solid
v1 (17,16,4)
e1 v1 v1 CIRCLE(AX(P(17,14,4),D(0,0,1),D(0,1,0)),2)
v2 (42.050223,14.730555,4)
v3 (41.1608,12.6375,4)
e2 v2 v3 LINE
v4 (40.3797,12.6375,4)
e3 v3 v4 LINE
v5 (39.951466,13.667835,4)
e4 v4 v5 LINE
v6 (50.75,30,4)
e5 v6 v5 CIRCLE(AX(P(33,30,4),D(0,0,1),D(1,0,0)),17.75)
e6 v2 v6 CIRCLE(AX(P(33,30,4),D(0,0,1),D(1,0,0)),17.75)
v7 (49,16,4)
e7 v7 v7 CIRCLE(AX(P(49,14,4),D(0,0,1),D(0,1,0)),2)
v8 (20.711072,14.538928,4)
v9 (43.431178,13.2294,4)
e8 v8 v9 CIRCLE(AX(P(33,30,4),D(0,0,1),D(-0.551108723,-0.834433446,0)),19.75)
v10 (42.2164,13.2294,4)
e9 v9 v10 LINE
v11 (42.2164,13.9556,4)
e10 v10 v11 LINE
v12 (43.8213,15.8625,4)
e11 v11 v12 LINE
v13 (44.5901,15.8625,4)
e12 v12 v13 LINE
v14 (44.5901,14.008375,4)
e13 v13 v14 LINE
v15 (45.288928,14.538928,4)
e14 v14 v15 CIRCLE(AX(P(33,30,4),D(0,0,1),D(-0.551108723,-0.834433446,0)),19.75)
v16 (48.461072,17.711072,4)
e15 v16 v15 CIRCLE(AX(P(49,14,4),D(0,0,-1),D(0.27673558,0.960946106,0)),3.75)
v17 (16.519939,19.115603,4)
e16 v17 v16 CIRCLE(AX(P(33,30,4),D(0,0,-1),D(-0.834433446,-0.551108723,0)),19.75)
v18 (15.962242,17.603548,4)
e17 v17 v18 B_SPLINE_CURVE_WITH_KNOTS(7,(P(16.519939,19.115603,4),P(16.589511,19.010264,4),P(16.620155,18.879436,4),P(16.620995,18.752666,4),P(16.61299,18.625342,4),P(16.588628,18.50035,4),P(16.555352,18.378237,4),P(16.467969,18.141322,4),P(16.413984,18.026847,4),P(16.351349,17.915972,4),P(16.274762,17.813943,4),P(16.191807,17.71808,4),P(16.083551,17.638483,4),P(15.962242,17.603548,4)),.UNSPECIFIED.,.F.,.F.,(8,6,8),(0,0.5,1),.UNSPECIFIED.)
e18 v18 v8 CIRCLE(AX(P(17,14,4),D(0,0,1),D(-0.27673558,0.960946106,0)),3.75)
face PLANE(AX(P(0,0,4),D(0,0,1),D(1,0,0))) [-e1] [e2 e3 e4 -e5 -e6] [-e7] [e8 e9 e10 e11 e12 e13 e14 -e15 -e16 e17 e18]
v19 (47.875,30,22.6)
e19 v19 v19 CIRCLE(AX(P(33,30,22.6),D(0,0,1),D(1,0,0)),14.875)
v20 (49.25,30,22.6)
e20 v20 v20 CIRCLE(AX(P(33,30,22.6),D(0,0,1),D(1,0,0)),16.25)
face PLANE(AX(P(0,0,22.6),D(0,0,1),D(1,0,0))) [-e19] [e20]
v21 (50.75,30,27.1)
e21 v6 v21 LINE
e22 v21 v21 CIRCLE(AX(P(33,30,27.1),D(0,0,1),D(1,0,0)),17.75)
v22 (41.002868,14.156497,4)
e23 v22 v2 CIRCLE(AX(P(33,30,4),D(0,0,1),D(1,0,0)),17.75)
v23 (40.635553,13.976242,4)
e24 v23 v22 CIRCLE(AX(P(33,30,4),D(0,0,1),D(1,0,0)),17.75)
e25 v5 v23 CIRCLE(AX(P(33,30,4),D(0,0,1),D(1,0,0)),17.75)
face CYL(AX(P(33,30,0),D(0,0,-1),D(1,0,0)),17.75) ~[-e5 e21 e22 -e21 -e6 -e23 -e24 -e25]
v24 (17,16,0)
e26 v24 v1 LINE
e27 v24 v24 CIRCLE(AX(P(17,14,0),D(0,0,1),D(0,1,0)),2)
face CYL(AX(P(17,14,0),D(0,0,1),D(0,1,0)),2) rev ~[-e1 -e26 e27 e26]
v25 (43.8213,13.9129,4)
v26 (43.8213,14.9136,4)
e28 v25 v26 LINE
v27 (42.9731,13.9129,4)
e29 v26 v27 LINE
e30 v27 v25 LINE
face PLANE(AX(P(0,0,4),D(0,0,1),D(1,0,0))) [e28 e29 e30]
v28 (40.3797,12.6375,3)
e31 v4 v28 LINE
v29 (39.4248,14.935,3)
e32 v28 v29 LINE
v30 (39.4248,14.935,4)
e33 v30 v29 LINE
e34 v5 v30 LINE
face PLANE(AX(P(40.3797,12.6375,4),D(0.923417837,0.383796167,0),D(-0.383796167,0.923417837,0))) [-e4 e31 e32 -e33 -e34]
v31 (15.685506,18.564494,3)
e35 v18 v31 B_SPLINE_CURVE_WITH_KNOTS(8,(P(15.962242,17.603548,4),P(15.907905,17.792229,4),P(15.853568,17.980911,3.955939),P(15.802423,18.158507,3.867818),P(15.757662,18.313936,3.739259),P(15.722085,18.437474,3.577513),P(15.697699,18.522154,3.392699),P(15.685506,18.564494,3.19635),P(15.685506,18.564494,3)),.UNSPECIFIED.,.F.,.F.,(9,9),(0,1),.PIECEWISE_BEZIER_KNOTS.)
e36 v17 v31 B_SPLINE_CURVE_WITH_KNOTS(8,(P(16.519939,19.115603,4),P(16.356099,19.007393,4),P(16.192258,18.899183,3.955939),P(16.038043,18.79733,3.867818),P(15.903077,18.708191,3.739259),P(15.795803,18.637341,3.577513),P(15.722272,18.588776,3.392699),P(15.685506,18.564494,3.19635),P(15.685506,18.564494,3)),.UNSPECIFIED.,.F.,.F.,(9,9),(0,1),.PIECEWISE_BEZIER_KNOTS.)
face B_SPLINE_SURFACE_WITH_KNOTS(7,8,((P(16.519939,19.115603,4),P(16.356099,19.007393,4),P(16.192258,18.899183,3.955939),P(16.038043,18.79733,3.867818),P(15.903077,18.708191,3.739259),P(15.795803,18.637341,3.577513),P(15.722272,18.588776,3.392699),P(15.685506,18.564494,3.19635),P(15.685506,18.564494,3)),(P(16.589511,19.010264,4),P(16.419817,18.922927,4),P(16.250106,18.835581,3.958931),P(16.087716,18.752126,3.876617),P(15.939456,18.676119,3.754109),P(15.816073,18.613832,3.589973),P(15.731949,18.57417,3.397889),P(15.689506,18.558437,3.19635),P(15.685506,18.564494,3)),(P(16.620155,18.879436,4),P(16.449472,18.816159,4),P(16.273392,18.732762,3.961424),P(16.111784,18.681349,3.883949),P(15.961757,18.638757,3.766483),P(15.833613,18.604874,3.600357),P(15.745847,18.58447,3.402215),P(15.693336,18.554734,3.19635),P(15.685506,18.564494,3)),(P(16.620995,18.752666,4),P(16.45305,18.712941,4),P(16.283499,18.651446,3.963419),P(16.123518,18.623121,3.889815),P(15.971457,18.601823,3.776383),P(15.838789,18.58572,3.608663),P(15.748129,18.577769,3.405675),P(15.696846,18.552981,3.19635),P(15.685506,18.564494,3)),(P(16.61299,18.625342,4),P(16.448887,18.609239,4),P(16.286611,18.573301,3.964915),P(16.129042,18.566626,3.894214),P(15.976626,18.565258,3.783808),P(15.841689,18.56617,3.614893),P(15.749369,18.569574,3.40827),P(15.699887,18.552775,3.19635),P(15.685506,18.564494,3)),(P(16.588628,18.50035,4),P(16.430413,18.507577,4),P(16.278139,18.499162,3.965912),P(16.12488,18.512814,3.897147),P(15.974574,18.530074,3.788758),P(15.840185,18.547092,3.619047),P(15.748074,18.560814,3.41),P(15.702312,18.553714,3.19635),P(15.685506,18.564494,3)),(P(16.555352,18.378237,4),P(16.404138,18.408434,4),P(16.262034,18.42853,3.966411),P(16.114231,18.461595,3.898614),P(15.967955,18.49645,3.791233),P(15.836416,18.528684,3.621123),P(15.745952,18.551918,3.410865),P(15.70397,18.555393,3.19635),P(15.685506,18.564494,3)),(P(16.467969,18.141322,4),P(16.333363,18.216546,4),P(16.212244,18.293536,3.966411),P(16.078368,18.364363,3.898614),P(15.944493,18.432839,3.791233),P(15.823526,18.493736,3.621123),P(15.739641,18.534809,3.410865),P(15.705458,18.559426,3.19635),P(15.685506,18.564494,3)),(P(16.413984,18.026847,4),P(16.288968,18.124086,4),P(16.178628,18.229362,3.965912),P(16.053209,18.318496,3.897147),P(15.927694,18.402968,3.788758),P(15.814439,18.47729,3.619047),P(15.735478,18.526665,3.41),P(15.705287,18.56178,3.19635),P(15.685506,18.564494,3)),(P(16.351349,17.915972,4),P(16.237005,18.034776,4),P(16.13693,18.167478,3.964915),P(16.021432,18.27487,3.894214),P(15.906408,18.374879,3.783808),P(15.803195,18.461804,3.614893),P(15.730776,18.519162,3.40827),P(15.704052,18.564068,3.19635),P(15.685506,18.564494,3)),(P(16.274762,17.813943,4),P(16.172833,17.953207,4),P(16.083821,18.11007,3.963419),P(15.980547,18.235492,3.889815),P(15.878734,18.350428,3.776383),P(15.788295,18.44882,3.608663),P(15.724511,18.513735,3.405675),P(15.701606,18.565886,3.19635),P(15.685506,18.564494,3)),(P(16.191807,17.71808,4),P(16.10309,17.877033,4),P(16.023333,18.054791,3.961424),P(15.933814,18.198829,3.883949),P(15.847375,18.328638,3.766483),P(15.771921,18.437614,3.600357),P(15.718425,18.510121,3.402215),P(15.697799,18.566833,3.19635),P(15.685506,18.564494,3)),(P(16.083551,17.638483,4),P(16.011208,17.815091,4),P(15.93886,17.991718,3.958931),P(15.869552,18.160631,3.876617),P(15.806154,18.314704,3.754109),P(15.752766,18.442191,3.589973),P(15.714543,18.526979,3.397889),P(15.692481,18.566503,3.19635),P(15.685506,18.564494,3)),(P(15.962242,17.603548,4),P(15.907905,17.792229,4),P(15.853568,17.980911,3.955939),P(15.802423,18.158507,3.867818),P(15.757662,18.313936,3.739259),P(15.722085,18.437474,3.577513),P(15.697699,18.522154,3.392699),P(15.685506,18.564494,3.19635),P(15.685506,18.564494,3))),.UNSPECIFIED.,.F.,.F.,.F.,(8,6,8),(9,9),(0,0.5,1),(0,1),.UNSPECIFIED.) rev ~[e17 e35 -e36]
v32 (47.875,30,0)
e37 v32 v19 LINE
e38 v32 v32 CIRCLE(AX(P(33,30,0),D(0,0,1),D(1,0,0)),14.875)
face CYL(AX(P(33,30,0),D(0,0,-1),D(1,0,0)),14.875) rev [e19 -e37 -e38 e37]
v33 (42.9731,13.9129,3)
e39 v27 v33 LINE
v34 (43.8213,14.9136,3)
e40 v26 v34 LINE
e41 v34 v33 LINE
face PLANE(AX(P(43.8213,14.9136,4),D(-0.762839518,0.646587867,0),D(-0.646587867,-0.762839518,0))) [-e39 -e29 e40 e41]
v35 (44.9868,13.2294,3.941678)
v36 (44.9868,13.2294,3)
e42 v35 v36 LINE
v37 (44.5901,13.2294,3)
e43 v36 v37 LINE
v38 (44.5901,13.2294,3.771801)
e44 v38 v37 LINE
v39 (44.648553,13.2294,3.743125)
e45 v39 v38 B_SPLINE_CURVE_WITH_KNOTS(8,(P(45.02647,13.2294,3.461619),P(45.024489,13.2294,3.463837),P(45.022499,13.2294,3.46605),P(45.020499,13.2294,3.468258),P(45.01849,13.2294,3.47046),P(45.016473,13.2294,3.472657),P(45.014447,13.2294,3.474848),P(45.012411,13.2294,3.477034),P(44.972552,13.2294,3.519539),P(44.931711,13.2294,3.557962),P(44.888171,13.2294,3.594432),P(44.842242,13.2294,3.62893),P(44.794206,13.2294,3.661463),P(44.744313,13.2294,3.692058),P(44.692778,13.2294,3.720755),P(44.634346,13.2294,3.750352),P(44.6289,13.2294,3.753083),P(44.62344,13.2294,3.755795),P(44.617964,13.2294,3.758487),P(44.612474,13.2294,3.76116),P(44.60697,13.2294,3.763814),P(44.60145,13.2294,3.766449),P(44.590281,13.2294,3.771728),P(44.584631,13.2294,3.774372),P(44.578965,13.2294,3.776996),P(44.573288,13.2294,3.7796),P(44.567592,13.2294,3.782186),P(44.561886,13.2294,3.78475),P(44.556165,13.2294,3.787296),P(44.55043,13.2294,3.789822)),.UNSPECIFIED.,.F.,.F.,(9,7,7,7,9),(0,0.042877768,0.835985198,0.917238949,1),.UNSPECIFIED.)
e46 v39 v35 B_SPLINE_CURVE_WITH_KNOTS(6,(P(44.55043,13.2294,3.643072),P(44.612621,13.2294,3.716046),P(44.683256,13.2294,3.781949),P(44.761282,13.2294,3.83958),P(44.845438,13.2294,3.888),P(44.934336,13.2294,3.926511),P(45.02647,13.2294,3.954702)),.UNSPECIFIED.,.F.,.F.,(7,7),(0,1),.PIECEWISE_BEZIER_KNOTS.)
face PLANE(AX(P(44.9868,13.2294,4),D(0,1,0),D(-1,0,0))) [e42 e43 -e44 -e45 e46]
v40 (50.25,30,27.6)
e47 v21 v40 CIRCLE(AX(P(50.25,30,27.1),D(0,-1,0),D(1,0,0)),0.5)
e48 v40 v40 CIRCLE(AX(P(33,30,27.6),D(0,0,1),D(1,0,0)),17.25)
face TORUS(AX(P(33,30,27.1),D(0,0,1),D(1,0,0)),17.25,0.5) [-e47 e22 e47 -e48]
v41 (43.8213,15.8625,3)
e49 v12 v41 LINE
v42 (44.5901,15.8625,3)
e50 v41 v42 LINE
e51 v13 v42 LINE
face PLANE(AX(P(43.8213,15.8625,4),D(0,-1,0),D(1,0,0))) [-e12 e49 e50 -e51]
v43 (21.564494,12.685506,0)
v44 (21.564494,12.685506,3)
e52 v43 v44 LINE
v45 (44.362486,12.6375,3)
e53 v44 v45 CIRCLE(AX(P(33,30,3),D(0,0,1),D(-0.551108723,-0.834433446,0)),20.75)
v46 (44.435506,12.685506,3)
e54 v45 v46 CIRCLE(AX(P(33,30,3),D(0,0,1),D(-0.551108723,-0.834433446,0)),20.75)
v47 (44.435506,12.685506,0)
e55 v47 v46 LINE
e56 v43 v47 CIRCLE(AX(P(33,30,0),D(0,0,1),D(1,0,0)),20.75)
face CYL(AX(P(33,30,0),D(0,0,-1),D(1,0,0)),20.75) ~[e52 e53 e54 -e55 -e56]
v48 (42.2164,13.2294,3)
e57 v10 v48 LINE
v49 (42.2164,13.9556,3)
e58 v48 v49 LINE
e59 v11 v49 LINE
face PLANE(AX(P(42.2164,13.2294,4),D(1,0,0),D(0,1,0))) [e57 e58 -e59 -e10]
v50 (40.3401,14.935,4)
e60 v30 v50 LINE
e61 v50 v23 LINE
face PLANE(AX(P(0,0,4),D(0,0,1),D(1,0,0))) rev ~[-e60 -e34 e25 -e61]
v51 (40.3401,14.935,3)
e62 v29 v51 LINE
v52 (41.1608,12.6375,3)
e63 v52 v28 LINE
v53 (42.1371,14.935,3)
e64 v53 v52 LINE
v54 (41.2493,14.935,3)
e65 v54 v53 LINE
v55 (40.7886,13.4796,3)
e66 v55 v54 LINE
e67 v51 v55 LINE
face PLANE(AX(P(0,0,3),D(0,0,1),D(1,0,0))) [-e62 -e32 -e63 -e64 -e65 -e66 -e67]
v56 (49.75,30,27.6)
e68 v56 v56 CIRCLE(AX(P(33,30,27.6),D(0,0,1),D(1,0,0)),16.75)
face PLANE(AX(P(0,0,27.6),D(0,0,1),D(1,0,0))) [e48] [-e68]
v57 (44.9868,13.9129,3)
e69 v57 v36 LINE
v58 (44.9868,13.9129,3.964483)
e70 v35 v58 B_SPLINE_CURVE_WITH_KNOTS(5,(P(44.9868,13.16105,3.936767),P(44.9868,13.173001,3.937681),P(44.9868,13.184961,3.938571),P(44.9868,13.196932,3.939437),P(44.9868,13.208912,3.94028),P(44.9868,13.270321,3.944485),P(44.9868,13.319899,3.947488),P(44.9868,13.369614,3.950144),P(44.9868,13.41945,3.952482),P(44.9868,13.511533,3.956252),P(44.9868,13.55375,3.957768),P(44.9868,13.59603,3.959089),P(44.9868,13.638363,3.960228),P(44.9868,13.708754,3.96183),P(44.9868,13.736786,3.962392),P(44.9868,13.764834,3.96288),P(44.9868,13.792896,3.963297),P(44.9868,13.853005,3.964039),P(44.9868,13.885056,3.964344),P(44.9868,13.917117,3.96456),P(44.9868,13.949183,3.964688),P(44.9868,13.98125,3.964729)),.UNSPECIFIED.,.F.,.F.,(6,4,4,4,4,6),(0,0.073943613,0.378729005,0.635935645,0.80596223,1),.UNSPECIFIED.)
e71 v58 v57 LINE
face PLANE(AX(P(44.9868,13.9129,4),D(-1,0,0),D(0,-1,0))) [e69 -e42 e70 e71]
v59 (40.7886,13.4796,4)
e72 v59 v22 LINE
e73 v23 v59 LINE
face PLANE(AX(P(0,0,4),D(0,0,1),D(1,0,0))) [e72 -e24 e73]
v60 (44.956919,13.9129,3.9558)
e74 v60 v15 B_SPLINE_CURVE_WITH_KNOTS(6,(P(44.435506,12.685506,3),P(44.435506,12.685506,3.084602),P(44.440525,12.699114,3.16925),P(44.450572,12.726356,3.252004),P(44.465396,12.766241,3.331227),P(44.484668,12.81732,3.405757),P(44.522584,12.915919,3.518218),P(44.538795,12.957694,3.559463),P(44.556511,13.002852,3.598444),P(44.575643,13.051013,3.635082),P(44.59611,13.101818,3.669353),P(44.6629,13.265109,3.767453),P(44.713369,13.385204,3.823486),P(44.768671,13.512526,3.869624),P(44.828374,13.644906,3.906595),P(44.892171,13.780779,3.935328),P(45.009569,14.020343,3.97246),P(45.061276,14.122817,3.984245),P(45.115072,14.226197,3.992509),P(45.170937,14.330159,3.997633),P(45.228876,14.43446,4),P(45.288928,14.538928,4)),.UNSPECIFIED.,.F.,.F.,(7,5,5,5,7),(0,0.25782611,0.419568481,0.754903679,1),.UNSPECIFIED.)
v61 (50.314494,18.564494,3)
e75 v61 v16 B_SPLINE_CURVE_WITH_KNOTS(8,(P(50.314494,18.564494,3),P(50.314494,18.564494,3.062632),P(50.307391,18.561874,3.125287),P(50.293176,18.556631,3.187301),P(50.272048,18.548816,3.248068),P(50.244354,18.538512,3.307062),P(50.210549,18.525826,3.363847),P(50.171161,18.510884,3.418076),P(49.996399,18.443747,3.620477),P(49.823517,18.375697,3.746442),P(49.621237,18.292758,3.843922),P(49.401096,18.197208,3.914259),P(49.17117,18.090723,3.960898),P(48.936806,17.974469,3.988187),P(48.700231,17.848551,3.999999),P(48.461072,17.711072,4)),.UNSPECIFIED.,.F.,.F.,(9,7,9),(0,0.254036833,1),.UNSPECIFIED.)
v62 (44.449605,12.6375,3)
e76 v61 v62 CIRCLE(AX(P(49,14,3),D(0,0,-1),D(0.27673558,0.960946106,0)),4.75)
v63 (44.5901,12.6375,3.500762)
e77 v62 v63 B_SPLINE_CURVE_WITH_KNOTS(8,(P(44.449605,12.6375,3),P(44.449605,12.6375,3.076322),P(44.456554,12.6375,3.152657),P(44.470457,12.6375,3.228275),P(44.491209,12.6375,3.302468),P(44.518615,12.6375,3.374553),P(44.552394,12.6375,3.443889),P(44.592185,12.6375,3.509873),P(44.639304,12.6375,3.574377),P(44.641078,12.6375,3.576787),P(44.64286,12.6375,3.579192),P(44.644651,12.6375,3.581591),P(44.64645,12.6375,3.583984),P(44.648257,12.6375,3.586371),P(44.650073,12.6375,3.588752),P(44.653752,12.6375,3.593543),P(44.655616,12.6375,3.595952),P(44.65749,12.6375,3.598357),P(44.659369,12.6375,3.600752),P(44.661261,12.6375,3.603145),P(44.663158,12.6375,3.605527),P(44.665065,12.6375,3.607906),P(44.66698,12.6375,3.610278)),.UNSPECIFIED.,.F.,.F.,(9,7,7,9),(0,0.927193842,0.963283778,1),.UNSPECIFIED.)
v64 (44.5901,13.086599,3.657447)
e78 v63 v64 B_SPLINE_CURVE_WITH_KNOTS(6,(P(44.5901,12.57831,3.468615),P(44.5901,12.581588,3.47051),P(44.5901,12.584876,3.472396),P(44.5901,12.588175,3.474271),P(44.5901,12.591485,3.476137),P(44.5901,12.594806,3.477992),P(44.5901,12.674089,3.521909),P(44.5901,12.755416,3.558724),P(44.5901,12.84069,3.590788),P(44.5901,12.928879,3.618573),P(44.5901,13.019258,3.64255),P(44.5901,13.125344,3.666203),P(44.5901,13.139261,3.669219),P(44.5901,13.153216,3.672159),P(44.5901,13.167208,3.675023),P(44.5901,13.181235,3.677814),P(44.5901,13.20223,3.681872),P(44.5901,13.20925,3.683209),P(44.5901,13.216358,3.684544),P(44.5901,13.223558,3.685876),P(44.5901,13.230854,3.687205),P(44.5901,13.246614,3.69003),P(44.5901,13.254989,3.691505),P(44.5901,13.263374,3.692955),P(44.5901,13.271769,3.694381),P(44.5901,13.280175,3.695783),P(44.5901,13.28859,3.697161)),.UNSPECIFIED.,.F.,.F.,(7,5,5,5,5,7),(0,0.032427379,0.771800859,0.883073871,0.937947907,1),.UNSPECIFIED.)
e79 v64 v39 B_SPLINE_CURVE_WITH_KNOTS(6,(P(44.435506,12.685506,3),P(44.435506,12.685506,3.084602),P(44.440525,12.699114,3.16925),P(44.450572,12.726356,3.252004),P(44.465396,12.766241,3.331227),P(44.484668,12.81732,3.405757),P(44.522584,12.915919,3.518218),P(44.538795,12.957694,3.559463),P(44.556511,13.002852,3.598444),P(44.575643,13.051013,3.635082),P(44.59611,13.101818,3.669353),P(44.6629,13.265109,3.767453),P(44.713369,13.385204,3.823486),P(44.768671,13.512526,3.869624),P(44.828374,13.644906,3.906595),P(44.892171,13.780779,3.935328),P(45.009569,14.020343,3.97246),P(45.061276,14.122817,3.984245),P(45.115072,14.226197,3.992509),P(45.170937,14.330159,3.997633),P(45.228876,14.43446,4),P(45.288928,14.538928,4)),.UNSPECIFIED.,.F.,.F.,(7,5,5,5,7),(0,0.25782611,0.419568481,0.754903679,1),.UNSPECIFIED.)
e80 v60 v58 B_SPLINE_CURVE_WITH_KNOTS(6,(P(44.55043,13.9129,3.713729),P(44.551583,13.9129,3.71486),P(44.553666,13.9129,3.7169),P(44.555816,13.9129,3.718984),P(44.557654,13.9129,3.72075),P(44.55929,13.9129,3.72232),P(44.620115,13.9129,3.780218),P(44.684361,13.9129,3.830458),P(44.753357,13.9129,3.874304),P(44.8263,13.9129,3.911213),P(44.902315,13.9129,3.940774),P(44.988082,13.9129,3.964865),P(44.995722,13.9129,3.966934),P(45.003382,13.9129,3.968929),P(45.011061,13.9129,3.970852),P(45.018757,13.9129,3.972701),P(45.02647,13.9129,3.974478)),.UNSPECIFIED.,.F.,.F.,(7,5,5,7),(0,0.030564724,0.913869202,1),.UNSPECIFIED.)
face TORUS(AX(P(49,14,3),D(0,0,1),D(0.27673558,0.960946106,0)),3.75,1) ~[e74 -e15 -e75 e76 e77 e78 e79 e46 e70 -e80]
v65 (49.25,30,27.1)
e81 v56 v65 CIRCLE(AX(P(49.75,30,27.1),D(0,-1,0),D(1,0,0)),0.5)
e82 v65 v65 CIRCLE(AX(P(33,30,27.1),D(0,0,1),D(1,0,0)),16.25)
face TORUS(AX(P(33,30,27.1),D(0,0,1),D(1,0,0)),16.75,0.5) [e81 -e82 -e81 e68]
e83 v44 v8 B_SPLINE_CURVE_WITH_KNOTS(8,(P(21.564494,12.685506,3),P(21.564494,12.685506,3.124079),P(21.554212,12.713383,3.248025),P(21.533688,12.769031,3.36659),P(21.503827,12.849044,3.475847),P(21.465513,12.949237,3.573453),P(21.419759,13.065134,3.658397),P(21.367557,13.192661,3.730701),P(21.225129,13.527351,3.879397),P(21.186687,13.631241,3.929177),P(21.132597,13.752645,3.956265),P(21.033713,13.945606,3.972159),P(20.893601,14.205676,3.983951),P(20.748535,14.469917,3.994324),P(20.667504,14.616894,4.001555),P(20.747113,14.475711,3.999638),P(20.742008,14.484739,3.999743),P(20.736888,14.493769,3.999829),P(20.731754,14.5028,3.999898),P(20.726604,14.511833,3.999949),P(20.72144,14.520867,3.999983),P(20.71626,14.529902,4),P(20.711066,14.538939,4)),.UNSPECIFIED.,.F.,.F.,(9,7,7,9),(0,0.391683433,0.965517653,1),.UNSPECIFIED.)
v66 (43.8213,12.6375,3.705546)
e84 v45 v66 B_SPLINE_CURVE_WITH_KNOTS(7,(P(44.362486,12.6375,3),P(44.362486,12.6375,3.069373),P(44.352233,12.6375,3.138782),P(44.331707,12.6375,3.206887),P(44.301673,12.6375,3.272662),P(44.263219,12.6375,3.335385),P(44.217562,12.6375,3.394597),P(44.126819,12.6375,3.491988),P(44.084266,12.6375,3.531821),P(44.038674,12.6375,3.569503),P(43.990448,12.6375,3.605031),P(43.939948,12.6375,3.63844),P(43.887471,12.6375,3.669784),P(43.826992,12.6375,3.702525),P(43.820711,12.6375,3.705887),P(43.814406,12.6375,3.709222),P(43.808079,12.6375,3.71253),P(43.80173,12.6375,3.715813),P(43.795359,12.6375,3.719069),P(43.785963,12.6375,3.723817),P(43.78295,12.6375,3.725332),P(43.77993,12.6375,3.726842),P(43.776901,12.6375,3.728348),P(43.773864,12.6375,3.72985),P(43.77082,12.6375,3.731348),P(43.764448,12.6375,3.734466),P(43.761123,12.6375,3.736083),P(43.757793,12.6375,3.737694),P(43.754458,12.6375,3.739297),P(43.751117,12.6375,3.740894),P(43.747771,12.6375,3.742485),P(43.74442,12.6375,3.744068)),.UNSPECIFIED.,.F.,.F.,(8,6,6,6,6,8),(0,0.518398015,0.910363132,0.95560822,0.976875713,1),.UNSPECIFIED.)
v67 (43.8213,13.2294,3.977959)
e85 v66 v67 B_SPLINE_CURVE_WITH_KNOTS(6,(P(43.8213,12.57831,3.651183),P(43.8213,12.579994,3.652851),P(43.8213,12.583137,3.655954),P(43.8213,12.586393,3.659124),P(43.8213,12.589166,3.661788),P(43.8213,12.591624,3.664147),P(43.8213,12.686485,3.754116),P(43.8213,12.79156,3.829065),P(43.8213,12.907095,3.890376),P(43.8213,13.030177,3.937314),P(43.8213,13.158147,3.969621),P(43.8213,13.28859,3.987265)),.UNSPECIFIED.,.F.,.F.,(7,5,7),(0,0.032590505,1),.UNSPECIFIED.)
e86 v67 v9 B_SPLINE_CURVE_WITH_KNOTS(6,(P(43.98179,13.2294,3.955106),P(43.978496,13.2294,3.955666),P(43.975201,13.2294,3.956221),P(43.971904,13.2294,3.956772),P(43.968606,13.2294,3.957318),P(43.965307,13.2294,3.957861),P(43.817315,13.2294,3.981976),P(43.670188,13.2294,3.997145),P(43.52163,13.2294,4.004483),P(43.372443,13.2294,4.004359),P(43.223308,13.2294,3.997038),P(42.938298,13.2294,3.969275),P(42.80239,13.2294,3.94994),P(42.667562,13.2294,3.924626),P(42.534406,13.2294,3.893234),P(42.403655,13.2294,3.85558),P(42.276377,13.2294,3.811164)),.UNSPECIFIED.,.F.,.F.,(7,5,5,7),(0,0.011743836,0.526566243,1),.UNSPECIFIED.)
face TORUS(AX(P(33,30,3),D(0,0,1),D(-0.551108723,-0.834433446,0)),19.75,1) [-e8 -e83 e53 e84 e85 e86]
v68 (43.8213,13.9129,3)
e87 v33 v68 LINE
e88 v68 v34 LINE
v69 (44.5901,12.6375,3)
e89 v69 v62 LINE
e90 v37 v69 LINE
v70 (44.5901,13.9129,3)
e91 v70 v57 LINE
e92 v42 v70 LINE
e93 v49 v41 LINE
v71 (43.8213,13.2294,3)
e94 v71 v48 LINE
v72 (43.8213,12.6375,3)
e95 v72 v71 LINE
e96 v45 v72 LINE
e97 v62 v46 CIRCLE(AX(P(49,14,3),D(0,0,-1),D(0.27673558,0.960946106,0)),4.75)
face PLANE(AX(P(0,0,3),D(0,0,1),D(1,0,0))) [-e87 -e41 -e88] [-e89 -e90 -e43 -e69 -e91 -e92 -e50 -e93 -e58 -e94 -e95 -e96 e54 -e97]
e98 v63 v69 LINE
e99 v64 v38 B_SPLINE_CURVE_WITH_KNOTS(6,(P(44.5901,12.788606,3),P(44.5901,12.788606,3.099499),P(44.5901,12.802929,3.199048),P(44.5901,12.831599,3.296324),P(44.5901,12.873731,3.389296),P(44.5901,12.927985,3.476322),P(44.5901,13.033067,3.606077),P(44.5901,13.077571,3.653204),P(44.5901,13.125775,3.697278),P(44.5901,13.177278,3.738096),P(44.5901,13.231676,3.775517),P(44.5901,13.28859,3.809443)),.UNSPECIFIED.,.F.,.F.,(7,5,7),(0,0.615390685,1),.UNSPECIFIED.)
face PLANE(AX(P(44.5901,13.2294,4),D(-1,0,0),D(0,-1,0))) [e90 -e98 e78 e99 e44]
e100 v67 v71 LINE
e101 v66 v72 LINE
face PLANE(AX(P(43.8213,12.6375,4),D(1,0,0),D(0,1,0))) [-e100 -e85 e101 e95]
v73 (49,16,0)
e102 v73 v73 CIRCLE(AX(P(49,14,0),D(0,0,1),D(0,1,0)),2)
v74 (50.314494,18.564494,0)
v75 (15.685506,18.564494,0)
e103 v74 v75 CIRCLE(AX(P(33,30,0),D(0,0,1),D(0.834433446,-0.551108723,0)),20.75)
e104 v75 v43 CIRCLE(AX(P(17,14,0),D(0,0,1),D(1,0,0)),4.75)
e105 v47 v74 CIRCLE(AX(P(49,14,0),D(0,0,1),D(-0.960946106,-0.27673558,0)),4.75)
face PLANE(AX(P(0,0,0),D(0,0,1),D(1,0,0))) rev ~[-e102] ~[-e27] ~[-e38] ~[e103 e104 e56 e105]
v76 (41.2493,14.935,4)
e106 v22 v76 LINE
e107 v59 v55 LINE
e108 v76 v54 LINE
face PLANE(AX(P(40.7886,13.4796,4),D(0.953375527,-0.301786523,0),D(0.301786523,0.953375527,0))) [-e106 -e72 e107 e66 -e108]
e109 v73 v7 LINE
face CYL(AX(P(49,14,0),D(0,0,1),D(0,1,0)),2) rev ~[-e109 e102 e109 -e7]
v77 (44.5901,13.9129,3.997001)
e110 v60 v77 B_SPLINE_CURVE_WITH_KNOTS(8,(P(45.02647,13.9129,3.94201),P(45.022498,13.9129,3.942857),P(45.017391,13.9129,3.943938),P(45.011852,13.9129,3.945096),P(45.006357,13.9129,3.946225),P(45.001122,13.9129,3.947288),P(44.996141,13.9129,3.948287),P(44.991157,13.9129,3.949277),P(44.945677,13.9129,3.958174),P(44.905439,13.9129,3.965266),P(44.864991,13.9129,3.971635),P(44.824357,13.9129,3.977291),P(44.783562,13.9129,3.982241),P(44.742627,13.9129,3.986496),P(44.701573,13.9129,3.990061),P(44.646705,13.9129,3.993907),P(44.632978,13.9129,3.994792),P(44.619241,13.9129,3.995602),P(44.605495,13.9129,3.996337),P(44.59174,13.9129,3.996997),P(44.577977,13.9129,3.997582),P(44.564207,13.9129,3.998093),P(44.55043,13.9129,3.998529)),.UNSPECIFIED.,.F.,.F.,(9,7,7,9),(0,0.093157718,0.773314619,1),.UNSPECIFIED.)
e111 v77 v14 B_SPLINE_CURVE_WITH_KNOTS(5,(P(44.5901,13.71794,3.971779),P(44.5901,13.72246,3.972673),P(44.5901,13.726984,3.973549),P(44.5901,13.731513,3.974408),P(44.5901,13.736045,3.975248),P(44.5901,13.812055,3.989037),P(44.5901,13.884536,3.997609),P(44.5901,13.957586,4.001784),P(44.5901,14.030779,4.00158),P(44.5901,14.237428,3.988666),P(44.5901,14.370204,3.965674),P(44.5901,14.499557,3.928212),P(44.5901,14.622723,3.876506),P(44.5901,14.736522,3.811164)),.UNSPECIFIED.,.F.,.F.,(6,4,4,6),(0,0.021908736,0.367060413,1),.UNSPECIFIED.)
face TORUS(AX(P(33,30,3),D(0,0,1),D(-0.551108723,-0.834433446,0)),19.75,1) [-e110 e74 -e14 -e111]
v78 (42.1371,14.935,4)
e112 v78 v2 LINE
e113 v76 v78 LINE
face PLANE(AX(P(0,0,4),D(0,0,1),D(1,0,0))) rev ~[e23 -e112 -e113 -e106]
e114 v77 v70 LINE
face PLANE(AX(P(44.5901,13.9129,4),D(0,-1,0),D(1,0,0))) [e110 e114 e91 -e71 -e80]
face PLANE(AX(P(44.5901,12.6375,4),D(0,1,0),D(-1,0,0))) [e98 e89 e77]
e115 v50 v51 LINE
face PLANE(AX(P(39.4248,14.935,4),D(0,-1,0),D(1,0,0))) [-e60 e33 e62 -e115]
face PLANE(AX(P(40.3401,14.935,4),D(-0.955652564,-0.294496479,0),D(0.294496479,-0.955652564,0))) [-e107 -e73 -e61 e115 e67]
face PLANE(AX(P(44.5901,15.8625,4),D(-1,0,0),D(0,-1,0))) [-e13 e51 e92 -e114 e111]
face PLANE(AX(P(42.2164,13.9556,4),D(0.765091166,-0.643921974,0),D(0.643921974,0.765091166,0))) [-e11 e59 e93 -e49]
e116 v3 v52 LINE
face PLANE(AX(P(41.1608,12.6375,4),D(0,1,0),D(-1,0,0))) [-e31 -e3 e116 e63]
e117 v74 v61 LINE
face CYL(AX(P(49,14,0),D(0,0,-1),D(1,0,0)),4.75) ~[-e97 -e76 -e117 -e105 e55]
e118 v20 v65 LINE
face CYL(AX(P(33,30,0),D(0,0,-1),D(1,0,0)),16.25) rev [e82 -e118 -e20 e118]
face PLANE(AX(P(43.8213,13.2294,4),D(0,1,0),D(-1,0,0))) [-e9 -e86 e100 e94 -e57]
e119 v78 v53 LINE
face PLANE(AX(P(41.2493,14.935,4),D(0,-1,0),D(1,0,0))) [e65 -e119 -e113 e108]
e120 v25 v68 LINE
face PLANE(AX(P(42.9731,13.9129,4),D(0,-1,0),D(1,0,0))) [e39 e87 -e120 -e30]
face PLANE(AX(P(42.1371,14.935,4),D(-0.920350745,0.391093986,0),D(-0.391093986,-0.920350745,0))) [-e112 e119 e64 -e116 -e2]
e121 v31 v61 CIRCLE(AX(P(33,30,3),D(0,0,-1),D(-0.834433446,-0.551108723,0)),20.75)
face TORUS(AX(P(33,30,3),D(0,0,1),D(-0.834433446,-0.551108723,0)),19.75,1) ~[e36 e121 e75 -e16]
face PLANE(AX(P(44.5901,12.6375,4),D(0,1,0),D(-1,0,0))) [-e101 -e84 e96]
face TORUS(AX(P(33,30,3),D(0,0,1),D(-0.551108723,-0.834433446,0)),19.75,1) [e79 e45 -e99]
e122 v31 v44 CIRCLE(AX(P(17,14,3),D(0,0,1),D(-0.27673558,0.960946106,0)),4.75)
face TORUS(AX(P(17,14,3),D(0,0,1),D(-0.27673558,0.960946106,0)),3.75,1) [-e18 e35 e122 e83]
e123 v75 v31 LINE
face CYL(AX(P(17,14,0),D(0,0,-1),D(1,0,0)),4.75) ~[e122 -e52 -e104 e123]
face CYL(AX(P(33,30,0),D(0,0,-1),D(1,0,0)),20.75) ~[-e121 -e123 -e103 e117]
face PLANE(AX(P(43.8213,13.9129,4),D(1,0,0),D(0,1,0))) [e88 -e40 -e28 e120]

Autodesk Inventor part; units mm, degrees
ref_plane "YZ Plane" through (0, 0, 0) normal (1, 0, 0) x (0, 1, 0)
ref_plane "XZ Plane" through (0, 0, 0) normal (0, 1, 0) x (-1, 0, 0)
ref_plane "XY Plane" through (0, 0, 0) normal (0, 0, 1) x (1, 0, 0)
sketch "Sketch1: base" plane through (0, 0, 0) normal (0, 0, 1) x (1, 0, 0)
  circle A0 centre (33, 30) radius 16.25
  line L0 (17, 46) -> (17, 14) construction
  line L1 (17, 14) -> (49, 14) construction
  circle A1 centre (33, 30) radius 17.75
  circle A2 centre (17, 14) radius 1.8 construction
  circle A3 centre (17, 14) radius 3.25 construction
  circle A4 centre (49, 14) radius 1.8 construction
  circle A5 centre (49, 14) radius 3.25 construction
  circle A6 centre (33, 30) radius 20.75
  circle A7 centre (17, 14) radius 4.75
  circle A8 centre (49, 14) radius 4.75
  point P0 (0, 0)
  point P1 (50.3145, 18.5645)
  point P2 (15.6855, 18.5645)
  point P3 (21.5645, 12.6855)
  point P4 (44.4355, 12.6855)
  point P5 (17, 30)
  point P6 (33, 14)
  dimension "d4" = 32.5
  dimension "d18" = 1.5
  dimension "d32" = 3
  dimension "d33" = 1.5
  dimension "d34" = 6.5
  dimension "d35" = 3.6
  dimension "d36" = 32
  dimension "d37" = 32
extrude "Ex1: base" add sketch "Sketch1: base" along normal blind 4 contours A6 A8 A7 | A7 A6 | A6 A7 | A8 A6 | A6 A8
sketch "Sketch2: tube stopper" plane through (0, 0, 0) normal (0, 0, 1) x (1, 0, 0)
  circle A0 centre (33, 30) radius 14.875
  circle A1 centre (33, 30) radius 16.25 projected
  point P0 (0, 0)
  dimension "d22" = 29.75
hole "Hole1: M3 inserts" at (49, 14, 0) at (17, 14, 0) direction (0, 0, 1) diameter 4 end through all
extrude "Ex2: tube cover" add sketch "Sketch1: base" along normal blind 27.6 contours A1
extrude "Ex3: tube stopper" add sketch "Sketch2: tube stopper" along normal blind 22.6
fillet "Fillet1: outside edges" radius 1 4 edges at (33, 50.75, 4) (52.3588, 10.6412, 4) (33, 9.25, 4) (13.6412, 10.6412, 4)
fillet "Fillet2: tube cover" radius 0.5 2 edges at (16.75, 30, 27.6) (15.25, 30, 27.6)
fillet "Fillet3: heat-set" [suppressed]
sketch "Sketch4: text" plane through (0, 0, 0) normal (0, 0, 1) x (1, 0, 0)
  line L0 (40.5, 16) -> (44, 16) construction
  line L1 (44, 16) -> (44, 12.5) construction
  line L2 (44, 12.5) -> (40.5, 12.5) construction
  line L3 (40.5, 12.5) -> (40.5, 16) construction
  line L4 (39.4248, 14.935) -> (40.3401, 14.935)
  line L5 (40.3401, 14.935) -> (40.7886, 13.4796)
  line L6 (40.7886, 13.4796) -> (41.2493, 14.935)
  line L7 (41.2493, 14.935) -> (42.1371, 14.935)
  line L8 (42.1371, 14.935) -> (41.1608, 12.6375)
  line L9 (41.1608, 12.6375) -> (40.3797, 12.6375)
  line L10 (40.3797, 12.6375) -> (39.4248, 14.935)
  line L11 (43.8213, 13.2294) -> (42.2164, 13.2294)
  line L12 (42.2164, 13.2294) -> (42.2164, 13.9556)
  line L13 (42.2164, 13.9556) -> (43.8213, 15.8625)
  line L14 (43.8213, 15.8625) -> (44.5901, 15.8625)
  line L15 (44.5901, 15.8625) -> (44.5901, 13.9129)
  line L16 (44.5901, 13.9129) -> (44.9868, 13.9129)
  line L17 (44.9868, 13.9129) -> (44.9868, 13.2294)
  line L18 (44.9868, 13.2294) -> (44.5901, 13.2294)
  line L19 (44.5901, 13.2294) -> (44.5901, 12.6375)
  line L20 (44.5901, 12.6375) -> (43.8213, 12.6375)
  line L21 (43.8213, 12.6375) -> (43.8213, 13.2294)
  line L22 (43.8213, 13.9129) -> (43.8213, 14.9136)
  line L23 (43.8213, 14.9136) -> (42.9731, 13.9129)
  line L24 (42.9731, 13.9129) -> (43.8213, 13.9129)
  point P0 (0, 0)
  point P1 (33, 30)
  dimension "d26" = 3.5
  dimension "d38" = 7.5
  dimension "d39" = 14
extrude "Ex4: text" cut sketch "Sketch4: text" against normal blind 1 from surface at 4
properties part number "cage_outside_04" material "PLA Plastic"
